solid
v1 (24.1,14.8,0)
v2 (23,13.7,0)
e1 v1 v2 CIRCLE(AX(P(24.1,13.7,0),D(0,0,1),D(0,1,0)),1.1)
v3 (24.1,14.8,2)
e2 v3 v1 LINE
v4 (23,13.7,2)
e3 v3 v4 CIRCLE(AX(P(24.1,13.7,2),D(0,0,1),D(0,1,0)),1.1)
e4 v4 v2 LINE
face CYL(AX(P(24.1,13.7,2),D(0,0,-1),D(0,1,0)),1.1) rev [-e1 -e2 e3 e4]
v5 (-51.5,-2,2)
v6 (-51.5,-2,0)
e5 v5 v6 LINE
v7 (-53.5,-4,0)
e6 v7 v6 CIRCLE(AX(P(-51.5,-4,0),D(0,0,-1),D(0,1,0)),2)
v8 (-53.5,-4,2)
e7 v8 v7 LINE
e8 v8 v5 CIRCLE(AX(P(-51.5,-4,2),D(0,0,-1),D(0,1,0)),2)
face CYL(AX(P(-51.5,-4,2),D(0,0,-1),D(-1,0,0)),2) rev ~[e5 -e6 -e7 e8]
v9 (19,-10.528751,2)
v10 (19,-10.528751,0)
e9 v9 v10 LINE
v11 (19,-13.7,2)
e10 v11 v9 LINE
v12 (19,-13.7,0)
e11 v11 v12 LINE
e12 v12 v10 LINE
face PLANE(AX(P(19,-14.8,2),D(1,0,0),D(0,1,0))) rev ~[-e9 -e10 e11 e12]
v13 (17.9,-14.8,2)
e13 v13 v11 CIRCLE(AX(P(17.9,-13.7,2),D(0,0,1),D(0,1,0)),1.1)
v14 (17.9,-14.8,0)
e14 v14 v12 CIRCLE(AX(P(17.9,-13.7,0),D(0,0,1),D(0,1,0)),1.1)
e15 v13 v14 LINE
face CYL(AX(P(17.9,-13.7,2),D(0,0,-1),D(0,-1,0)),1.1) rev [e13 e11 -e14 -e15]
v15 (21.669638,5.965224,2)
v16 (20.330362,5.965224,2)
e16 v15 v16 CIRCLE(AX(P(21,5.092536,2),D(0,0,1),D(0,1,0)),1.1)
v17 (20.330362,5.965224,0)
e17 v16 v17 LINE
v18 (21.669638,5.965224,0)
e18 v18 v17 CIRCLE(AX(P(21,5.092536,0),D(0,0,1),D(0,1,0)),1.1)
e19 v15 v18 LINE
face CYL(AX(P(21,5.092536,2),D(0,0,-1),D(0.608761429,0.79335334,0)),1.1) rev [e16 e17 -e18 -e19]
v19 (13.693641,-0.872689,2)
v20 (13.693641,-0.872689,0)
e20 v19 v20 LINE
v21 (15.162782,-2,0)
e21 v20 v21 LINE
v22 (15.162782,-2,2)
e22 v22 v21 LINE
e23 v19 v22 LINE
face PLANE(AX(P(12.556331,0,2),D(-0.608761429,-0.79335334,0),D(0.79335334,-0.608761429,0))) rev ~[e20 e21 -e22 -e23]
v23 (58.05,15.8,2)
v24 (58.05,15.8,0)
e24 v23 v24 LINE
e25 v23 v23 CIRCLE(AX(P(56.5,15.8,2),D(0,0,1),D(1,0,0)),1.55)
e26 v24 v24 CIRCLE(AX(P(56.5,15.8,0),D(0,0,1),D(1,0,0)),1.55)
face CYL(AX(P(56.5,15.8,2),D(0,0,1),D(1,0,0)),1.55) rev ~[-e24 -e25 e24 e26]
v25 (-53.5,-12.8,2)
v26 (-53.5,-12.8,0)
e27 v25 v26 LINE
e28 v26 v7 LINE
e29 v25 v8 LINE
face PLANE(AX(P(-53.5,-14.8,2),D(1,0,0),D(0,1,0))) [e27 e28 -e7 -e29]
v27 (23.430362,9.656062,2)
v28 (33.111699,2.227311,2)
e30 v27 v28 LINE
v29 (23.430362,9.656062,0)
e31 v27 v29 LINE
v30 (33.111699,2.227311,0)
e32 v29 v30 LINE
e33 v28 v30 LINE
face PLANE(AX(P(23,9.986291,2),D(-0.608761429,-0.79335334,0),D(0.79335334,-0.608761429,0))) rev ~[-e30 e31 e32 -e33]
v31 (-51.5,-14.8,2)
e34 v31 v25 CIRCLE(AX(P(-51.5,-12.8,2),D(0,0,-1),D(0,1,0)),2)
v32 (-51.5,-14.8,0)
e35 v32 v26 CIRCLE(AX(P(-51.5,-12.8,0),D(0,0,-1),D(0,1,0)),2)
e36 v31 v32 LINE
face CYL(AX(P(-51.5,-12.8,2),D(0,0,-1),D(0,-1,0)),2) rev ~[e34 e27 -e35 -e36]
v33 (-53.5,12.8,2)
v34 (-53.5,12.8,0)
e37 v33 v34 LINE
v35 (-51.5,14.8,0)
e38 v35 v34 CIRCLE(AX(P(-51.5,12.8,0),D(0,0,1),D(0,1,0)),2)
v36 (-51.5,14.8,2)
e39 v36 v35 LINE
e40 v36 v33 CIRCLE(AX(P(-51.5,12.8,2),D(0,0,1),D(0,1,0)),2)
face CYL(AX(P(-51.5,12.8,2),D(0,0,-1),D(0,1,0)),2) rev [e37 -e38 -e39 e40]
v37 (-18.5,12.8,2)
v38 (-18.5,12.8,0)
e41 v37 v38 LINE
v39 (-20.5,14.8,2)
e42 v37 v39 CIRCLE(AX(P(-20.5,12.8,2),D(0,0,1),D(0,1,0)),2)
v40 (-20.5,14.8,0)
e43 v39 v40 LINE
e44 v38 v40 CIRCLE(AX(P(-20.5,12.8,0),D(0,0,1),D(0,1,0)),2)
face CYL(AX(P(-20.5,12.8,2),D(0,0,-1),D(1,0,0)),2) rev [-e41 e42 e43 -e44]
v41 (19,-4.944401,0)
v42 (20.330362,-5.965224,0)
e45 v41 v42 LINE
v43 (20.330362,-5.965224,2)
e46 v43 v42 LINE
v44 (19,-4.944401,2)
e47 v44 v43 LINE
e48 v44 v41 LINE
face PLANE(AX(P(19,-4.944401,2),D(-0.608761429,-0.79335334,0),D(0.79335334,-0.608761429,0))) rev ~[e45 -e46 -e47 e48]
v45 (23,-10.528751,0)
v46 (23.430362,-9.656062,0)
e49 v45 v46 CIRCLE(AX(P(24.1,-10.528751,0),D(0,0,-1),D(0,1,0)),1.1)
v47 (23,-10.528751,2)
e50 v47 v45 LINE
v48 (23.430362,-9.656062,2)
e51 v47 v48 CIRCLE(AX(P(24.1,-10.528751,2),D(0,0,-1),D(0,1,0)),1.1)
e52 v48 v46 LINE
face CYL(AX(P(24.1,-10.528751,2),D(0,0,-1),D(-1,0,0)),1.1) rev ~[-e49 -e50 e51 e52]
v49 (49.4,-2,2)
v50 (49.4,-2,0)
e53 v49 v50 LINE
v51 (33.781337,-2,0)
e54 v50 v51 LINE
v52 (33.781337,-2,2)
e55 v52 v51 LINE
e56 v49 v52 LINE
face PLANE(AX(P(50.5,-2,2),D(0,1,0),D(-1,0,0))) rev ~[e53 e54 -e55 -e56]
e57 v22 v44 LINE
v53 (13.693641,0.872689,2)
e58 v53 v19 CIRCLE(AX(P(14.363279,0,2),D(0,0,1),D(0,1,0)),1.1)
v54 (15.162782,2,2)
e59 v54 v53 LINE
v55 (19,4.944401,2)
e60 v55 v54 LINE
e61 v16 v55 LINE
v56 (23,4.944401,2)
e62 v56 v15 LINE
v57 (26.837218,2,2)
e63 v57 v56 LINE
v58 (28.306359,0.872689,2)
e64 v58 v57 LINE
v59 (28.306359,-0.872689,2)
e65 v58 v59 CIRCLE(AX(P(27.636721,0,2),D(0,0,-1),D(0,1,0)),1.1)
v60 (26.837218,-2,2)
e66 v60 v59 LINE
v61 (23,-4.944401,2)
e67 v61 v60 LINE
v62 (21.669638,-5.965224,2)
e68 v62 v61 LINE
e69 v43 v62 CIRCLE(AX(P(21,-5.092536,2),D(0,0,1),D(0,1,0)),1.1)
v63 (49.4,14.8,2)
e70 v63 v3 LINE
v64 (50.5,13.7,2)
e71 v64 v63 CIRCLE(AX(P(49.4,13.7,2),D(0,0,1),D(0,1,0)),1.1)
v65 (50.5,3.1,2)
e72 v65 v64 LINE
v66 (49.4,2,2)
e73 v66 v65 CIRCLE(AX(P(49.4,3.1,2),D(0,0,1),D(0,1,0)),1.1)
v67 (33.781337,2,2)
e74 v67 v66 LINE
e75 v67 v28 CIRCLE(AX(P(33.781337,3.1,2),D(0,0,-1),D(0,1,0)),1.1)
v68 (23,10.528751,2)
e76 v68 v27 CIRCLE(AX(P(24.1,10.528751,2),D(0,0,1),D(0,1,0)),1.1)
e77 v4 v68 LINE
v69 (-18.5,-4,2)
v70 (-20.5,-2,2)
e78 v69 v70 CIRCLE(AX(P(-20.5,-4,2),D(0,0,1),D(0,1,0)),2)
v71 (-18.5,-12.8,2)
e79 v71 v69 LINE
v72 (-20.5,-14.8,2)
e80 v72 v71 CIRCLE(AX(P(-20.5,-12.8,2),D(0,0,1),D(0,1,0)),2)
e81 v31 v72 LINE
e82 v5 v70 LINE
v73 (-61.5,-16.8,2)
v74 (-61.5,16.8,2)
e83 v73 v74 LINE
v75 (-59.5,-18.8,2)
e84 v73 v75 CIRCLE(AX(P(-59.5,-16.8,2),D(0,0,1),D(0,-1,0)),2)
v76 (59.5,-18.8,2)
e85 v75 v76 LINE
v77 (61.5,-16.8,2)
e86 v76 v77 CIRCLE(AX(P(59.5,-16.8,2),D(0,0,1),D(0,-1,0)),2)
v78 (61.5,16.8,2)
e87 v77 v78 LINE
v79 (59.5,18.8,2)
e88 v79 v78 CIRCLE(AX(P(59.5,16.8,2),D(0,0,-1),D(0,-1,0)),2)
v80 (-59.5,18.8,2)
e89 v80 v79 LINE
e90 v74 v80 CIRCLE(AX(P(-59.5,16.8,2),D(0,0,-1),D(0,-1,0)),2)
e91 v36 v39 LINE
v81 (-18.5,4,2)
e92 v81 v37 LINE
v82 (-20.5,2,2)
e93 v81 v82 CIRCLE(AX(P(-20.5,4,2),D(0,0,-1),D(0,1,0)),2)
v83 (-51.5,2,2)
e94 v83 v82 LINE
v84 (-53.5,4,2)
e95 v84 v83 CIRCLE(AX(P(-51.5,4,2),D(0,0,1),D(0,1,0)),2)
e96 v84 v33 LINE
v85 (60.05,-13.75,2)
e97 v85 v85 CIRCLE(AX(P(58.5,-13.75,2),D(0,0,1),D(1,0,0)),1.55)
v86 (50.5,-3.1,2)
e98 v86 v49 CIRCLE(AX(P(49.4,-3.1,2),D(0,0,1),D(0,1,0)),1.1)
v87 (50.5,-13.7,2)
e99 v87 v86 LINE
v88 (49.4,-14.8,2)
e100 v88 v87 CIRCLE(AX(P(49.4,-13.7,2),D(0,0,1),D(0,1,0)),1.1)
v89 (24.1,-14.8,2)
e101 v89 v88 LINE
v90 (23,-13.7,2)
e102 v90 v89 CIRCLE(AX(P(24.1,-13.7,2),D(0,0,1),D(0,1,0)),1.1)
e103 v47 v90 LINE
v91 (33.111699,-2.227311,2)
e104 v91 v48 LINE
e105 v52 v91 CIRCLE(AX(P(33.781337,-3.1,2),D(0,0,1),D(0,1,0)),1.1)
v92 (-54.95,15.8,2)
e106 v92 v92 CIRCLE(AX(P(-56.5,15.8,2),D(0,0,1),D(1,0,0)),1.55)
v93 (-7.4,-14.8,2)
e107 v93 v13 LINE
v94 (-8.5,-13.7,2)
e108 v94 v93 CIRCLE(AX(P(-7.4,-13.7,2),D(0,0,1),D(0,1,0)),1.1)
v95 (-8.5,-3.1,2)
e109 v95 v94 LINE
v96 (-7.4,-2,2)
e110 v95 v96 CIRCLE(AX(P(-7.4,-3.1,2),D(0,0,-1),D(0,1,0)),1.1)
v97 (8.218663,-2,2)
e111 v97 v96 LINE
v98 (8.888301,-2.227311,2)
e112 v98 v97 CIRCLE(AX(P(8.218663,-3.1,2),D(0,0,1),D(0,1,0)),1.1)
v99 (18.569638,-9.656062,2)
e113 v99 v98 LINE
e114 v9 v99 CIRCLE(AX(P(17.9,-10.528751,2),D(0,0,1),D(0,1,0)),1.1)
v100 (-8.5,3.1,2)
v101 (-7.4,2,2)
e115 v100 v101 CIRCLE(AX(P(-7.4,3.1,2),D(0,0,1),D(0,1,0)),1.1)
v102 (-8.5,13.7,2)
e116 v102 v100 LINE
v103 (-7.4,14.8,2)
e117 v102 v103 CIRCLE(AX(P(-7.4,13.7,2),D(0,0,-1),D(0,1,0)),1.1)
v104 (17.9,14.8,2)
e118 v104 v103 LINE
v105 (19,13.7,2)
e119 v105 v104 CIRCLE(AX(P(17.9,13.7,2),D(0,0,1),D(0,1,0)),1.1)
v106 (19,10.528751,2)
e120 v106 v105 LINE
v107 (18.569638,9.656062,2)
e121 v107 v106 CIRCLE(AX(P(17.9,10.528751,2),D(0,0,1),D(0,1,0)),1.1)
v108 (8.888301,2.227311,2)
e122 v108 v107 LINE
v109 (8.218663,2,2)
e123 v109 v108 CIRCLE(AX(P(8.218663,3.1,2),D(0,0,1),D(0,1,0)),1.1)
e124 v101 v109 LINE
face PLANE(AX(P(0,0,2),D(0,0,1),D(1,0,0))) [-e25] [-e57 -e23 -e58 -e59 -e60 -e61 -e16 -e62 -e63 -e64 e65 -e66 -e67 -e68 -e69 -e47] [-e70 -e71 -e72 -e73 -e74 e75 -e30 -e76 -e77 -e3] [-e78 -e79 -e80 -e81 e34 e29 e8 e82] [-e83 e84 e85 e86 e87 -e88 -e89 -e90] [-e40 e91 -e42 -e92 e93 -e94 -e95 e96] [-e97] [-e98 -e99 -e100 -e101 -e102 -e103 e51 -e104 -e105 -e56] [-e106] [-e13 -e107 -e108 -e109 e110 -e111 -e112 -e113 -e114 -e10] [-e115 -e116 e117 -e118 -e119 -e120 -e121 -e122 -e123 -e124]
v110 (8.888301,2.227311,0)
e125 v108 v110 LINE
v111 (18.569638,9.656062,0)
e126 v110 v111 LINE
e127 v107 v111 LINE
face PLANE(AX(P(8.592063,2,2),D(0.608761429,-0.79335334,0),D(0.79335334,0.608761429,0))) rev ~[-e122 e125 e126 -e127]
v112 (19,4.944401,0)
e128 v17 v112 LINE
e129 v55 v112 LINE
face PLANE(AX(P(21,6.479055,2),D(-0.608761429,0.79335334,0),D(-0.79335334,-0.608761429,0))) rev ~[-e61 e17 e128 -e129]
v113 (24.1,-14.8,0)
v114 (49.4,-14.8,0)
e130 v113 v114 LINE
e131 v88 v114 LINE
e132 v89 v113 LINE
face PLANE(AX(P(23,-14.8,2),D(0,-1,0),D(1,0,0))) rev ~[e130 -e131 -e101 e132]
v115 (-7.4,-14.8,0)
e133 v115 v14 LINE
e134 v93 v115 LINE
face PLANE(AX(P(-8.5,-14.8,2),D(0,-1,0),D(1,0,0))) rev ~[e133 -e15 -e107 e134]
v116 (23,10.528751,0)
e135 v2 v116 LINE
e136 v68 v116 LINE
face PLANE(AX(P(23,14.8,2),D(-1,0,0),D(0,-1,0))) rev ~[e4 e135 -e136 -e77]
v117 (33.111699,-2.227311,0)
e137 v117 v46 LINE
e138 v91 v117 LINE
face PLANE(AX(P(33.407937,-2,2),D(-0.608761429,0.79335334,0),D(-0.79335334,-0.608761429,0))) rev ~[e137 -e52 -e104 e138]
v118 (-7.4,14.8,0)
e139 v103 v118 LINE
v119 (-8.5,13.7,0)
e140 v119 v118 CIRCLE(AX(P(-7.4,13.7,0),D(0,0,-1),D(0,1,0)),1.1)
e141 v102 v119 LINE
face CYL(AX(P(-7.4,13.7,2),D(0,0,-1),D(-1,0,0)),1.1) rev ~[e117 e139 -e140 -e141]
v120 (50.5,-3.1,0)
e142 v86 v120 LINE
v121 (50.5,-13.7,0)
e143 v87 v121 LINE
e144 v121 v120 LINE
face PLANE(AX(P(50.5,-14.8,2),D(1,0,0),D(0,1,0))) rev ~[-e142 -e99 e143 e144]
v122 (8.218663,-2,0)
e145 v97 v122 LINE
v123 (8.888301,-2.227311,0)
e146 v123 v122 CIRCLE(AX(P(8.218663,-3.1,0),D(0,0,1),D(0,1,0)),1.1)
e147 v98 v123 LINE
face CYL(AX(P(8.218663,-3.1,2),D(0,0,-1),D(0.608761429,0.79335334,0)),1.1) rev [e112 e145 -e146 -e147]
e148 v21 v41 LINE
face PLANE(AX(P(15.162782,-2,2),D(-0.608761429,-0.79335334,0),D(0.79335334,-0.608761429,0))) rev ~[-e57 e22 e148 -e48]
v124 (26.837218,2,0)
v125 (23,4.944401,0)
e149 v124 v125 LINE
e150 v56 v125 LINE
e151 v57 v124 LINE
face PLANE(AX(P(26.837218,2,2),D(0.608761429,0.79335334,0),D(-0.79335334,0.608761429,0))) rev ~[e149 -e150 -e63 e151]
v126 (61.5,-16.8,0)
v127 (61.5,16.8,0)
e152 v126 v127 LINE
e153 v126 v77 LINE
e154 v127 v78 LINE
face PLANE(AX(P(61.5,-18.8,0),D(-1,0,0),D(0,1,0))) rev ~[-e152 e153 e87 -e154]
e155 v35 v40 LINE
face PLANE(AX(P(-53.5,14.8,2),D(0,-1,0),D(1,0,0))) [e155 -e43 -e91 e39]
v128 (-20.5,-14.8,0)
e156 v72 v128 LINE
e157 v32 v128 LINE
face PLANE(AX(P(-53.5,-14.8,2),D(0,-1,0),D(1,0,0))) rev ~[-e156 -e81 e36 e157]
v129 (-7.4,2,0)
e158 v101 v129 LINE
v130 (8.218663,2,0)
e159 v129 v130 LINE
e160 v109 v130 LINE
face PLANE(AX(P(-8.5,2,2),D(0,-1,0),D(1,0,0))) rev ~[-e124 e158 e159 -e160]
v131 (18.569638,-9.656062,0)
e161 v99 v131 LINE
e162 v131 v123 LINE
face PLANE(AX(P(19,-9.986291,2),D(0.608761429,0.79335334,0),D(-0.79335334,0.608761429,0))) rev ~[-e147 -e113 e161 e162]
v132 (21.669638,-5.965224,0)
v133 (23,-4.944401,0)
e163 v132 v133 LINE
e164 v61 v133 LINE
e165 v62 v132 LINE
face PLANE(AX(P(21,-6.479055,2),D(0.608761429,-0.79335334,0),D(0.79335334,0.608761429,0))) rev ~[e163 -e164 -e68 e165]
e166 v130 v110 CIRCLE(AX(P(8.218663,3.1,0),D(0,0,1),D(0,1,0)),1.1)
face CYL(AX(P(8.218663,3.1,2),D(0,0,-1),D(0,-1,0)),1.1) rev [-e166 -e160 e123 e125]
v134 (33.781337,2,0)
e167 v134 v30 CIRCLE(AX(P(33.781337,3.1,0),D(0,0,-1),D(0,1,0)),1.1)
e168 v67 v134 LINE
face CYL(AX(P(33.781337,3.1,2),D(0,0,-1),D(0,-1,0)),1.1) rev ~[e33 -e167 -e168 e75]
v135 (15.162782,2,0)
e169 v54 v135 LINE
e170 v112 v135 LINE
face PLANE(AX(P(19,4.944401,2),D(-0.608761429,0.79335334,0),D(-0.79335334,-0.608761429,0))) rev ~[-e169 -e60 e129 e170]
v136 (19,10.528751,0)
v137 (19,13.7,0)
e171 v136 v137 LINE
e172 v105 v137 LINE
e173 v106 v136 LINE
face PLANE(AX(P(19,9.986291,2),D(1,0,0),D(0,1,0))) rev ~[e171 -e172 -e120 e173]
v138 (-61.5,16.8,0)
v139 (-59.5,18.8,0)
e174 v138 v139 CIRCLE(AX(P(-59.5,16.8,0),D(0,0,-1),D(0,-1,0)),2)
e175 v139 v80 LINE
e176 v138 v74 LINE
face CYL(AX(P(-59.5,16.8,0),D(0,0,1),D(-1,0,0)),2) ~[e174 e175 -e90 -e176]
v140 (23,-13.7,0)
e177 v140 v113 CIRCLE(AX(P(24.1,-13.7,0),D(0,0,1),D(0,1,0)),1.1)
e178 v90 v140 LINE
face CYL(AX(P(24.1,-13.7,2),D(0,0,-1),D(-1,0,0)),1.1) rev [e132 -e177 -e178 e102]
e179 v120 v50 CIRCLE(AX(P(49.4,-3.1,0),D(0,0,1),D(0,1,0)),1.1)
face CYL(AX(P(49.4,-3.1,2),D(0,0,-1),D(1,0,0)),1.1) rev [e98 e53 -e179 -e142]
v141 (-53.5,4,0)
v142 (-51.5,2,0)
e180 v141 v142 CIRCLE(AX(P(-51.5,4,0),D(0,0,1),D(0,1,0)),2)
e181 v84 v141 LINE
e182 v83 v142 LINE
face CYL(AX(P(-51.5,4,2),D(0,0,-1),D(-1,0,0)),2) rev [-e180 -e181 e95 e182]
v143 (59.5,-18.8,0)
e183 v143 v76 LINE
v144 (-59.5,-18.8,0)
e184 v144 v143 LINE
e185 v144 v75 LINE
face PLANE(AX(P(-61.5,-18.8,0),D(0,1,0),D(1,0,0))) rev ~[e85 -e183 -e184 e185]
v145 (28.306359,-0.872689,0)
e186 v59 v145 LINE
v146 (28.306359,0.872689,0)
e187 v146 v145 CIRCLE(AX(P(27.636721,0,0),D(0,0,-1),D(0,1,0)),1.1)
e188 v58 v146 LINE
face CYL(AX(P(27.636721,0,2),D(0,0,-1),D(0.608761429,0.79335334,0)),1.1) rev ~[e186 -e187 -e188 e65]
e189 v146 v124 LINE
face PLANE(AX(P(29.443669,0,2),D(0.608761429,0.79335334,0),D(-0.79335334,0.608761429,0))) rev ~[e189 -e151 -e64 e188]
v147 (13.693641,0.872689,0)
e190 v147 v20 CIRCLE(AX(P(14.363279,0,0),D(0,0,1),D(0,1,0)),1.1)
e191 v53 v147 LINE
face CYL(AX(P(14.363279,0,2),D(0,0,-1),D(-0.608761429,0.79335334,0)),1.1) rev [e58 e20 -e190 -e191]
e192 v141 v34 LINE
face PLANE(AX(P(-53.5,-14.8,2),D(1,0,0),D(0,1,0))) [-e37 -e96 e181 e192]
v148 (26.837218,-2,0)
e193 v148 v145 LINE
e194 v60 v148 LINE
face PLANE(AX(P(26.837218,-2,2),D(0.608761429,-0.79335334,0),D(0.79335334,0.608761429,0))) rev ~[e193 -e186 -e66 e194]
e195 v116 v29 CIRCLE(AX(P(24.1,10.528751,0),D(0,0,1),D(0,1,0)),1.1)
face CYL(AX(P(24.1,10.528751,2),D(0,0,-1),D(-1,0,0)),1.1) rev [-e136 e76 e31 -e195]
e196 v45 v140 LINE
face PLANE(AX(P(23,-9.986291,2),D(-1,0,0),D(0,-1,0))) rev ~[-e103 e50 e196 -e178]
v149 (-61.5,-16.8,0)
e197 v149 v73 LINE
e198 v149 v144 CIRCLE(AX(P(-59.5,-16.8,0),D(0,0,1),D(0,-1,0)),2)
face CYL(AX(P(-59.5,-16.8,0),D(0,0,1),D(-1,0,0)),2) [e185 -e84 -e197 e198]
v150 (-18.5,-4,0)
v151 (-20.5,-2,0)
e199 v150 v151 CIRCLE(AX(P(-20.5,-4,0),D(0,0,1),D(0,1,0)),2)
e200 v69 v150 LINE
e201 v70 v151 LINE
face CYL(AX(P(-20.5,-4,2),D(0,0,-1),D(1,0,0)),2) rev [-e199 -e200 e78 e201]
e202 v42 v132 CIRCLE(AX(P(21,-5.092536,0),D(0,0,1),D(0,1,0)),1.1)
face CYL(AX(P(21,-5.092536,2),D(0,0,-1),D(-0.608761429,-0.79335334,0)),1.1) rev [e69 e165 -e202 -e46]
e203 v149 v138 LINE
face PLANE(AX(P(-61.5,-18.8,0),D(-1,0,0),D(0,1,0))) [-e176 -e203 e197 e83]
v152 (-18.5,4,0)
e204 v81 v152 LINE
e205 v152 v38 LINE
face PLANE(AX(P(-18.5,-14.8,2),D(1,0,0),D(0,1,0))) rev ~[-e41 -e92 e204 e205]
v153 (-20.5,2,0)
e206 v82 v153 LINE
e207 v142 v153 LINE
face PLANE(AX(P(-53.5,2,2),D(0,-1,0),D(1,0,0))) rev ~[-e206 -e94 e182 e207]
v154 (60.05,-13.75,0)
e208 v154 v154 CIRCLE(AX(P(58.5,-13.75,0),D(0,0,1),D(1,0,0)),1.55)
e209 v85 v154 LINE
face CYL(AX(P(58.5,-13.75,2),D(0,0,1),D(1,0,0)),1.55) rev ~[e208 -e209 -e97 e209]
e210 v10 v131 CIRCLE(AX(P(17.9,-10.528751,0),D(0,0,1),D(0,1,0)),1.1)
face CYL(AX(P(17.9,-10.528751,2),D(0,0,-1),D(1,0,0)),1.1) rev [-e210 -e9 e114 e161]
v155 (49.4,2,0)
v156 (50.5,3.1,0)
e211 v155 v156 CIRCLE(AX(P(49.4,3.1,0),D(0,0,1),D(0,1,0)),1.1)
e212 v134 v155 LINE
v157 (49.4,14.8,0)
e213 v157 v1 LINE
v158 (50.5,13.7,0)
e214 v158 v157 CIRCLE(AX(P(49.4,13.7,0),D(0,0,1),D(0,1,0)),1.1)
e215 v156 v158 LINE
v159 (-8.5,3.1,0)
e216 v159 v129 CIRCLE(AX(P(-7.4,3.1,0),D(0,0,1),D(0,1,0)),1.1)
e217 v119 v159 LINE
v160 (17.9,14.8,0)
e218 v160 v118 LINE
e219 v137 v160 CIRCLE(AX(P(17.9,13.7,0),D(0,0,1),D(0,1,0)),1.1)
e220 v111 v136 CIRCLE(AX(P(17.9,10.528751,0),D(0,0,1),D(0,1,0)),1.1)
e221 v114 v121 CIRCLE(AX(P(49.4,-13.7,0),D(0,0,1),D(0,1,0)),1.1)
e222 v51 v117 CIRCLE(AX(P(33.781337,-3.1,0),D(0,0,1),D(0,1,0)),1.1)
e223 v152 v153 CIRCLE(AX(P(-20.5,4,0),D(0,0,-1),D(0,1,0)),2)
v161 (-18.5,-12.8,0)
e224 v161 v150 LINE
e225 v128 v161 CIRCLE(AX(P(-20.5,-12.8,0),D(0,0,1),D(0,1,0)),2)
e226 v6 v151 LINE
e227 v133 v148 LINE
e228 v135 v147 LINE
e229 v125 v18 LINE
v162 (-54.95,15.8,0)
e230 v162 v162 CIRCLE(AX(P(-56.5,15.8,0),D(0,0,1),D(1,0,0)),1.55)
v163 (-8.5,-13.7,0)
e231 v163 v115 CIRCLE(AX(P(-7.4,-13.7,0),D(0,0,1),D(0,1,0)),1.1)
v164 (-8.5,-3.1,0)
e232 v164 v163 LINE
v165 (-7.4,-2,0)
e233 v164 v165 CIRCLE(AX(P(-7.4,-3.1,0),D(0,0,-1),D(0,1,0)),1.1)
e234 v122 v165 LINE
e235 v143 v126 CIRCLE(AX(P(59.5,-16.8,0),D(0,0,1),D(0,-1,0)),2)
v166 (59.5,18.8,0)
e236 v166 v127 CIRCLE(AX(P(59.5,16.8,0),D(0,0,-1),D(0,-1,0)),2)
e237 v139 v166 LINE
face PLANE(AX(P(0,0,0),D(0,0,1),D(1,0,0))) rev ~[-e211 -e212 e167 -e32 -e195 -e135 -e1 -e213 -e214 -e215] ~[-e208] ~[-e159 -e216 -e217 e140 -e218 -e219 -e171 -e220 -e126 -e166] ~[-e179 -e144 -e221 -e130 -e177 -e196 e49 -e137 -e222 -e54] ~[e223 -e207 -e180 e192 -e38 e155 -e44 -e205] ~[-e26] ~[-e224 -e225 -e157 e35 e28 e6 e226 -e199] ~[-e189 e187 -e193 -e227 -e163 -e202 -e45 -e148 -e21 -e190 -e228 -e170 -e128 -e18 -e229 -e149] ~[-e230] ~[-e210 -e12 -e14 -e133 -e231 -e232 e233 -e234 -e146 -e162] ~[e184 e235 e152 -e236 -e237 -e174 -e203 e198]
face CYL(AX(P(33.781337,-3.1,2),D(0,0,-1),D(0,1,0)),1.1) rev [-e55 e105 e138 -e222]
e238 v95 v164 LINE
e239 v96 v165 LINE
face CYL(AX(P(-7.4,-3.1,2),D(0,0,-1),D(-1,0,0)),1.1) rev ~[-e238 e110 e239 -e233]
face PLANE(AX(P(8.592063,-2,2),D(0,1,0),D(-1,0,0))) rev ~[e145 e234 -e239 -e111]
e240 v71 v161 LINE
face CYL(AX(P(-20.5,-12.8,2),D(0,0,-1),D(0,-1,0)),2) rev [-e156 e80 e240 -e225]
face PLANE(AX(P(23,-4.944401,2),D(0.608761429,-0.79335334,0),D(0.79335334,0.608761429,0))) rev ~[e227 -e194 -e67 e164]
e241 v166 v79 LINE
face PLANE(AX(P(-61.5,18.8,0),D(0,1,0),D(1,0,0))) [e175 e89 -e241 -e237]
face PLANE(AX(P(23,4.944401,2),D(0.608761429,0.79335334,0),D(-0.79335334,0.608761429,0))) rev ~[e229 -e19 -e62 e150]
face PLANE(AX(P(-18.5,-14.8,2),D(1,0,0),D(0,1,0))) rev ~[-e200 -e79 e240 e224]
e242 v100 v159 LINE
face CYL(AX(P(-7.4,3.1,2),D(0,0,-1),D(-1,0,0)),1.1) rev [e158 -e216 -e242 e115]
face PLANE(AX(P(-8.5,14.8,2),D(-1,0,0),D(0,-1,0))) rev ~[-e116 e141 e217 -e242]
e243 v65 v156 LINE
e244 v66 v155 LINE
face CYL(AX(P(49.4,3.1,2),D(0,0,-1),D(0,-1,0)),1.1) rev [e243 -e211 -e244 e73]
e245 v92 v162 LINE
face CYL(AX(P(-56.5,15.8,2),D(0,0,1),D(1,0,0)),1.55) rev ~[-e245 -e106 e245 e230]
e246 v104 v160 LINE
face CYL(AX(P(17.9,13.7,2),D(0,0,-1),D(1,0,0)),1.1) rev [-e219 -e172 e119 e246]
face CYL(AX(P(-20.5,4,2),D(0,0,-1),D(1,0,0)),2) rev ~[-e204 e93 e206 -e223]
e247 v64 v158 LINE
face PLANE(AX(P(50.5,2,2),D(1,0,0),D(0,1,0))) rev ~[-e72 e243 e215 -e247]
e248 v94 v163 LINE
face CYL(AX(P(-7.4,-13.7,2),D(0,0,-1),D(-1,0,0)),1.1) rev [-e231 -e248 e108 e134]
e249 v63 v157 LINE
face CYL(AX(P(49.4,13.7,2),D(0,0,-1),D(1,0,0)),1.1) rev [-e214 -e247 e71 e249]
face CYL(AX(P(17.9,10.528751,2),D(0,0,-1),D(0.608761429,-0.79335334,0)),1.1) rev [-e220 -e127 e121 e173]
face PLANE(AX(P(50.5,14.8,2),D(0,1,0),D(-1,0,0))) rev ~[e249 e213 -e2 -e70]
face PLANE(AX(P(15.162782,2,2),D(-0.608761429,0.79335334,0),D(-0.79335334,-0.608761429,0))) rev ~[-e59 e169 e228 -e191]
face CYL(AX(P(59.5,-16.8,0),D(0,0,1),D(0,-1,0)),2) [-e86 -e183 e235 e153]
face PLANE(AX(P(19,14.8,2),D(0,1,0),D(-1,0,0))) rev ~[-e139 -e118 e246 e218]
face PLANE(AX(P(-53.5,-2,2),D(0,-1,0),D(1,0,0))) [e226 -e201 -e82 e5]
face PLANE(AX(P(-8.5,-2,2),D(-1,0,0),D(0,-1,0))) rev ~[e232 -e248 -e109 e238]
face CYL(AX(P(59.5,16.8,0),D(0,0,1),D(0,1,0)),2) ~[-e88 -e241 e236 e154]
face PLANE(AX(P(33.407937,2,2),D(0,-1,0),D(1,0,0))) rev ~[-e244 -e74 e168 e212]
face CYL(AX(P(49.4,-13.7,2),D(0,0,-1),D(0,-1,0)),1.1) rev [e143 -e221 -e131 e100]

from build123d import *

# Parameters (mm, degrees)
SKETCH_1_W          = 123
SKETCH_1_H          = 37.6
EXTRUDE_1_DEPTH     = 2
SKETCH_2_R          = 1.55
CUT_EXTRUDE_1_DEPTH = 10
SKETCH_3_W          = 35
SKETCH_3_H          = 29.6
CUT_EXTRUDE_2_DEPTH = 10
FILLET_1_R          = 2
SKETCH_4_W          = 4
SKETCH_4_H          = 4
CUT_EXTRUDE_3_DEPTH = 10
FILLET_2_R          = 1.1
SKETCH_5_W          = 35
SKETCH_5_H          = 4
EXTRUDE_1_2_DEPTH   = 2
FILLET_3_R          = 2


with BuildPart() as part:
    # 草图1 → Extrude 1 (new body)
    with BuildSketch(Plane.XY):
        Rectangle(SKETCH_1_W, SKETCH_1_H)
    extrude(amount=EXTRUDE_1_DEPTH)

    # 草图2 → 切除-拉伸1 (cut)
    with BuildSketch(Plane.XY.offset(2)):
        with Locations((56.5, 15.8)):
            Circle(SKETCH_2_R)
        with Locations((58.5, -13.75)):
            Circle(SKETCH_2_R)
        with Locations((-56.5, 15.8)):
            Circle(SKETCH_2_R)
    extrude(amount=-CUT_EXTRUDE_1_DEPTH, mode=Mode.SUBTRACT)

    # 草图3 → 切除-拉伸2 (cut)
    with BuildSketch(Plane.XY.offset(2)):
        with Locations((-36, 0)):
            Rectangle(SKETCH_3_W, SKETCH_3_H)
    extrude(amount=-CUT_EXTRUDE_2_DEPTH, mode=Mode.SUBTRACT)

    # 圆角1
    fillet_1_edges = [part.edges().sort_by_distance(p)[0] for p in [
        (-18.5, 14.8, 1),
        (-18.5, -14.8, 1),
        (-53.5, -14.8, 1),
        (-53.5, 14.8, 1),
        (61.5, -18.8, 1),
        (-61.5, -18.8, 1),
        (-61.5, 18.8, 1),
        (61.5, 18.8, 1),
    ]]
    fillet(fillet_1_edges, radius=FILLET_1_R)

    # 草图4 → 切除-拉伸3 (cut)
    with BuildSketch(Plane.XY.offset(2)):
        Polygon((23, -9.986290852), (23, -14.8), (50.5, -14.8), (50.5, -2), (33.407936873, -2), align=None)
        Polygon((33.407936873, 2), (50.5, 2), (50.5, 14.8), (23, 14.8), (23, 9.986290852), align=None)
        Polygon((-8.5, 14.8), (-8.5, 2), (8.592063127, 2), (19, 9.986290852), (19, 14.8), align=None)
        Polygon((-8.5, -2), (-8.5, -14.8), (19, -14.8), (19, -9.986290852), (8.592063127, -2), align=None)
        Polygon((23, -2), (26.837218346, -2), (29.443669092, 0), (26.837218346, 2), (23, 2), align=None)
        Polygon((23, -2), (23, -4.944401196), (26.837218346, -2), align=None)
        Polygon((19, -2), (19, -4.944401196), (21, -6.479055172), (23, -4.944401196), (23, -2), align=None)
        Polygon((15.162781654, -2), (19, -4.944401196), (19, -2), align=None)
        Polygon((12.556330908, 0), (15.162781654, -2), (19, -2), (19, 2), (15.162781654, 2), align=None)
        Polygon((19, 4.944401196), (15.162781654, 2), (19, 2), align=None)
        Polygon((19, 4.944401196), (19, 2), (23, 2), (23, 4.944401196), (21, 6.479055172), align=None)
        Polygon((23, 4.944401196), (23, 2), (26.837218346, 2), align=None)
        with Locations((21, 0)):
            Rectangle(SKETCH_4_W, SKETCH_4_H)
    extrude(amount=-CUT_EXTRUDE_3_DEPTH, mode=Mode.SUBTRACT)

    # 圆角2
    fillet_2_edges = [part.edges().sort_by_distance(p)[0] for p in [
        (33.407936873, 2, 1),
        (23, 9.986290852, 1),
        (23, 14.8, 1),
        (50.5, 14.8, 1),
        (50.5, 2, 1),
        (-8.5, 2, 1),
        (-8.5, 14.8, 1),
        (19, 14.8, 1),
        (19, 9.986290852, 1),
        (8.592063127, 2, 1),
        (21, 6.479055172, 1),
        (29.443669092, 0, 1),
        (21, -6.479055172, 1),
        (12.556330908, 0, 1),
        (-8.5, -2, 1),
        (8.592063127, -2, 1),
        (19, -9.986290852, 1),
        (19, -14.8, 1),
        (-8.5, -14.8, 1),
        (23, -9.986290852, 1),
        (33.407936873, -2, 1),
        (50.5, -2, 1),
        (50.5, -14.8, 1),
        (23, -14.8, 1),
    ]]
    fillet(fillet_2_edges, radius=FILLET_2_R)

    # 草图5 → Extrude 1 2 (add)
    with BuildSketch(Plane.XY.offset(2)):
        with Locations((-36, 0)):
            Rectangle(SKETCH_5_W, SKETCH_5_H)
    extrude(amount=-EXTRUDE_1_2_DEPTH)

    # 圆角3
    fillet_3_edges = [part.edges().sort_by_distance(p)[0] for p in [
        (-53.5, 2, 1),
        (-18.5, 2, 1),
        (-18.5, -2, 1),
        (-53.5, -2, 1),
    ]]
    fillet(fillet_3_edges, radius=FILLET_3_R)


solid = part.part
